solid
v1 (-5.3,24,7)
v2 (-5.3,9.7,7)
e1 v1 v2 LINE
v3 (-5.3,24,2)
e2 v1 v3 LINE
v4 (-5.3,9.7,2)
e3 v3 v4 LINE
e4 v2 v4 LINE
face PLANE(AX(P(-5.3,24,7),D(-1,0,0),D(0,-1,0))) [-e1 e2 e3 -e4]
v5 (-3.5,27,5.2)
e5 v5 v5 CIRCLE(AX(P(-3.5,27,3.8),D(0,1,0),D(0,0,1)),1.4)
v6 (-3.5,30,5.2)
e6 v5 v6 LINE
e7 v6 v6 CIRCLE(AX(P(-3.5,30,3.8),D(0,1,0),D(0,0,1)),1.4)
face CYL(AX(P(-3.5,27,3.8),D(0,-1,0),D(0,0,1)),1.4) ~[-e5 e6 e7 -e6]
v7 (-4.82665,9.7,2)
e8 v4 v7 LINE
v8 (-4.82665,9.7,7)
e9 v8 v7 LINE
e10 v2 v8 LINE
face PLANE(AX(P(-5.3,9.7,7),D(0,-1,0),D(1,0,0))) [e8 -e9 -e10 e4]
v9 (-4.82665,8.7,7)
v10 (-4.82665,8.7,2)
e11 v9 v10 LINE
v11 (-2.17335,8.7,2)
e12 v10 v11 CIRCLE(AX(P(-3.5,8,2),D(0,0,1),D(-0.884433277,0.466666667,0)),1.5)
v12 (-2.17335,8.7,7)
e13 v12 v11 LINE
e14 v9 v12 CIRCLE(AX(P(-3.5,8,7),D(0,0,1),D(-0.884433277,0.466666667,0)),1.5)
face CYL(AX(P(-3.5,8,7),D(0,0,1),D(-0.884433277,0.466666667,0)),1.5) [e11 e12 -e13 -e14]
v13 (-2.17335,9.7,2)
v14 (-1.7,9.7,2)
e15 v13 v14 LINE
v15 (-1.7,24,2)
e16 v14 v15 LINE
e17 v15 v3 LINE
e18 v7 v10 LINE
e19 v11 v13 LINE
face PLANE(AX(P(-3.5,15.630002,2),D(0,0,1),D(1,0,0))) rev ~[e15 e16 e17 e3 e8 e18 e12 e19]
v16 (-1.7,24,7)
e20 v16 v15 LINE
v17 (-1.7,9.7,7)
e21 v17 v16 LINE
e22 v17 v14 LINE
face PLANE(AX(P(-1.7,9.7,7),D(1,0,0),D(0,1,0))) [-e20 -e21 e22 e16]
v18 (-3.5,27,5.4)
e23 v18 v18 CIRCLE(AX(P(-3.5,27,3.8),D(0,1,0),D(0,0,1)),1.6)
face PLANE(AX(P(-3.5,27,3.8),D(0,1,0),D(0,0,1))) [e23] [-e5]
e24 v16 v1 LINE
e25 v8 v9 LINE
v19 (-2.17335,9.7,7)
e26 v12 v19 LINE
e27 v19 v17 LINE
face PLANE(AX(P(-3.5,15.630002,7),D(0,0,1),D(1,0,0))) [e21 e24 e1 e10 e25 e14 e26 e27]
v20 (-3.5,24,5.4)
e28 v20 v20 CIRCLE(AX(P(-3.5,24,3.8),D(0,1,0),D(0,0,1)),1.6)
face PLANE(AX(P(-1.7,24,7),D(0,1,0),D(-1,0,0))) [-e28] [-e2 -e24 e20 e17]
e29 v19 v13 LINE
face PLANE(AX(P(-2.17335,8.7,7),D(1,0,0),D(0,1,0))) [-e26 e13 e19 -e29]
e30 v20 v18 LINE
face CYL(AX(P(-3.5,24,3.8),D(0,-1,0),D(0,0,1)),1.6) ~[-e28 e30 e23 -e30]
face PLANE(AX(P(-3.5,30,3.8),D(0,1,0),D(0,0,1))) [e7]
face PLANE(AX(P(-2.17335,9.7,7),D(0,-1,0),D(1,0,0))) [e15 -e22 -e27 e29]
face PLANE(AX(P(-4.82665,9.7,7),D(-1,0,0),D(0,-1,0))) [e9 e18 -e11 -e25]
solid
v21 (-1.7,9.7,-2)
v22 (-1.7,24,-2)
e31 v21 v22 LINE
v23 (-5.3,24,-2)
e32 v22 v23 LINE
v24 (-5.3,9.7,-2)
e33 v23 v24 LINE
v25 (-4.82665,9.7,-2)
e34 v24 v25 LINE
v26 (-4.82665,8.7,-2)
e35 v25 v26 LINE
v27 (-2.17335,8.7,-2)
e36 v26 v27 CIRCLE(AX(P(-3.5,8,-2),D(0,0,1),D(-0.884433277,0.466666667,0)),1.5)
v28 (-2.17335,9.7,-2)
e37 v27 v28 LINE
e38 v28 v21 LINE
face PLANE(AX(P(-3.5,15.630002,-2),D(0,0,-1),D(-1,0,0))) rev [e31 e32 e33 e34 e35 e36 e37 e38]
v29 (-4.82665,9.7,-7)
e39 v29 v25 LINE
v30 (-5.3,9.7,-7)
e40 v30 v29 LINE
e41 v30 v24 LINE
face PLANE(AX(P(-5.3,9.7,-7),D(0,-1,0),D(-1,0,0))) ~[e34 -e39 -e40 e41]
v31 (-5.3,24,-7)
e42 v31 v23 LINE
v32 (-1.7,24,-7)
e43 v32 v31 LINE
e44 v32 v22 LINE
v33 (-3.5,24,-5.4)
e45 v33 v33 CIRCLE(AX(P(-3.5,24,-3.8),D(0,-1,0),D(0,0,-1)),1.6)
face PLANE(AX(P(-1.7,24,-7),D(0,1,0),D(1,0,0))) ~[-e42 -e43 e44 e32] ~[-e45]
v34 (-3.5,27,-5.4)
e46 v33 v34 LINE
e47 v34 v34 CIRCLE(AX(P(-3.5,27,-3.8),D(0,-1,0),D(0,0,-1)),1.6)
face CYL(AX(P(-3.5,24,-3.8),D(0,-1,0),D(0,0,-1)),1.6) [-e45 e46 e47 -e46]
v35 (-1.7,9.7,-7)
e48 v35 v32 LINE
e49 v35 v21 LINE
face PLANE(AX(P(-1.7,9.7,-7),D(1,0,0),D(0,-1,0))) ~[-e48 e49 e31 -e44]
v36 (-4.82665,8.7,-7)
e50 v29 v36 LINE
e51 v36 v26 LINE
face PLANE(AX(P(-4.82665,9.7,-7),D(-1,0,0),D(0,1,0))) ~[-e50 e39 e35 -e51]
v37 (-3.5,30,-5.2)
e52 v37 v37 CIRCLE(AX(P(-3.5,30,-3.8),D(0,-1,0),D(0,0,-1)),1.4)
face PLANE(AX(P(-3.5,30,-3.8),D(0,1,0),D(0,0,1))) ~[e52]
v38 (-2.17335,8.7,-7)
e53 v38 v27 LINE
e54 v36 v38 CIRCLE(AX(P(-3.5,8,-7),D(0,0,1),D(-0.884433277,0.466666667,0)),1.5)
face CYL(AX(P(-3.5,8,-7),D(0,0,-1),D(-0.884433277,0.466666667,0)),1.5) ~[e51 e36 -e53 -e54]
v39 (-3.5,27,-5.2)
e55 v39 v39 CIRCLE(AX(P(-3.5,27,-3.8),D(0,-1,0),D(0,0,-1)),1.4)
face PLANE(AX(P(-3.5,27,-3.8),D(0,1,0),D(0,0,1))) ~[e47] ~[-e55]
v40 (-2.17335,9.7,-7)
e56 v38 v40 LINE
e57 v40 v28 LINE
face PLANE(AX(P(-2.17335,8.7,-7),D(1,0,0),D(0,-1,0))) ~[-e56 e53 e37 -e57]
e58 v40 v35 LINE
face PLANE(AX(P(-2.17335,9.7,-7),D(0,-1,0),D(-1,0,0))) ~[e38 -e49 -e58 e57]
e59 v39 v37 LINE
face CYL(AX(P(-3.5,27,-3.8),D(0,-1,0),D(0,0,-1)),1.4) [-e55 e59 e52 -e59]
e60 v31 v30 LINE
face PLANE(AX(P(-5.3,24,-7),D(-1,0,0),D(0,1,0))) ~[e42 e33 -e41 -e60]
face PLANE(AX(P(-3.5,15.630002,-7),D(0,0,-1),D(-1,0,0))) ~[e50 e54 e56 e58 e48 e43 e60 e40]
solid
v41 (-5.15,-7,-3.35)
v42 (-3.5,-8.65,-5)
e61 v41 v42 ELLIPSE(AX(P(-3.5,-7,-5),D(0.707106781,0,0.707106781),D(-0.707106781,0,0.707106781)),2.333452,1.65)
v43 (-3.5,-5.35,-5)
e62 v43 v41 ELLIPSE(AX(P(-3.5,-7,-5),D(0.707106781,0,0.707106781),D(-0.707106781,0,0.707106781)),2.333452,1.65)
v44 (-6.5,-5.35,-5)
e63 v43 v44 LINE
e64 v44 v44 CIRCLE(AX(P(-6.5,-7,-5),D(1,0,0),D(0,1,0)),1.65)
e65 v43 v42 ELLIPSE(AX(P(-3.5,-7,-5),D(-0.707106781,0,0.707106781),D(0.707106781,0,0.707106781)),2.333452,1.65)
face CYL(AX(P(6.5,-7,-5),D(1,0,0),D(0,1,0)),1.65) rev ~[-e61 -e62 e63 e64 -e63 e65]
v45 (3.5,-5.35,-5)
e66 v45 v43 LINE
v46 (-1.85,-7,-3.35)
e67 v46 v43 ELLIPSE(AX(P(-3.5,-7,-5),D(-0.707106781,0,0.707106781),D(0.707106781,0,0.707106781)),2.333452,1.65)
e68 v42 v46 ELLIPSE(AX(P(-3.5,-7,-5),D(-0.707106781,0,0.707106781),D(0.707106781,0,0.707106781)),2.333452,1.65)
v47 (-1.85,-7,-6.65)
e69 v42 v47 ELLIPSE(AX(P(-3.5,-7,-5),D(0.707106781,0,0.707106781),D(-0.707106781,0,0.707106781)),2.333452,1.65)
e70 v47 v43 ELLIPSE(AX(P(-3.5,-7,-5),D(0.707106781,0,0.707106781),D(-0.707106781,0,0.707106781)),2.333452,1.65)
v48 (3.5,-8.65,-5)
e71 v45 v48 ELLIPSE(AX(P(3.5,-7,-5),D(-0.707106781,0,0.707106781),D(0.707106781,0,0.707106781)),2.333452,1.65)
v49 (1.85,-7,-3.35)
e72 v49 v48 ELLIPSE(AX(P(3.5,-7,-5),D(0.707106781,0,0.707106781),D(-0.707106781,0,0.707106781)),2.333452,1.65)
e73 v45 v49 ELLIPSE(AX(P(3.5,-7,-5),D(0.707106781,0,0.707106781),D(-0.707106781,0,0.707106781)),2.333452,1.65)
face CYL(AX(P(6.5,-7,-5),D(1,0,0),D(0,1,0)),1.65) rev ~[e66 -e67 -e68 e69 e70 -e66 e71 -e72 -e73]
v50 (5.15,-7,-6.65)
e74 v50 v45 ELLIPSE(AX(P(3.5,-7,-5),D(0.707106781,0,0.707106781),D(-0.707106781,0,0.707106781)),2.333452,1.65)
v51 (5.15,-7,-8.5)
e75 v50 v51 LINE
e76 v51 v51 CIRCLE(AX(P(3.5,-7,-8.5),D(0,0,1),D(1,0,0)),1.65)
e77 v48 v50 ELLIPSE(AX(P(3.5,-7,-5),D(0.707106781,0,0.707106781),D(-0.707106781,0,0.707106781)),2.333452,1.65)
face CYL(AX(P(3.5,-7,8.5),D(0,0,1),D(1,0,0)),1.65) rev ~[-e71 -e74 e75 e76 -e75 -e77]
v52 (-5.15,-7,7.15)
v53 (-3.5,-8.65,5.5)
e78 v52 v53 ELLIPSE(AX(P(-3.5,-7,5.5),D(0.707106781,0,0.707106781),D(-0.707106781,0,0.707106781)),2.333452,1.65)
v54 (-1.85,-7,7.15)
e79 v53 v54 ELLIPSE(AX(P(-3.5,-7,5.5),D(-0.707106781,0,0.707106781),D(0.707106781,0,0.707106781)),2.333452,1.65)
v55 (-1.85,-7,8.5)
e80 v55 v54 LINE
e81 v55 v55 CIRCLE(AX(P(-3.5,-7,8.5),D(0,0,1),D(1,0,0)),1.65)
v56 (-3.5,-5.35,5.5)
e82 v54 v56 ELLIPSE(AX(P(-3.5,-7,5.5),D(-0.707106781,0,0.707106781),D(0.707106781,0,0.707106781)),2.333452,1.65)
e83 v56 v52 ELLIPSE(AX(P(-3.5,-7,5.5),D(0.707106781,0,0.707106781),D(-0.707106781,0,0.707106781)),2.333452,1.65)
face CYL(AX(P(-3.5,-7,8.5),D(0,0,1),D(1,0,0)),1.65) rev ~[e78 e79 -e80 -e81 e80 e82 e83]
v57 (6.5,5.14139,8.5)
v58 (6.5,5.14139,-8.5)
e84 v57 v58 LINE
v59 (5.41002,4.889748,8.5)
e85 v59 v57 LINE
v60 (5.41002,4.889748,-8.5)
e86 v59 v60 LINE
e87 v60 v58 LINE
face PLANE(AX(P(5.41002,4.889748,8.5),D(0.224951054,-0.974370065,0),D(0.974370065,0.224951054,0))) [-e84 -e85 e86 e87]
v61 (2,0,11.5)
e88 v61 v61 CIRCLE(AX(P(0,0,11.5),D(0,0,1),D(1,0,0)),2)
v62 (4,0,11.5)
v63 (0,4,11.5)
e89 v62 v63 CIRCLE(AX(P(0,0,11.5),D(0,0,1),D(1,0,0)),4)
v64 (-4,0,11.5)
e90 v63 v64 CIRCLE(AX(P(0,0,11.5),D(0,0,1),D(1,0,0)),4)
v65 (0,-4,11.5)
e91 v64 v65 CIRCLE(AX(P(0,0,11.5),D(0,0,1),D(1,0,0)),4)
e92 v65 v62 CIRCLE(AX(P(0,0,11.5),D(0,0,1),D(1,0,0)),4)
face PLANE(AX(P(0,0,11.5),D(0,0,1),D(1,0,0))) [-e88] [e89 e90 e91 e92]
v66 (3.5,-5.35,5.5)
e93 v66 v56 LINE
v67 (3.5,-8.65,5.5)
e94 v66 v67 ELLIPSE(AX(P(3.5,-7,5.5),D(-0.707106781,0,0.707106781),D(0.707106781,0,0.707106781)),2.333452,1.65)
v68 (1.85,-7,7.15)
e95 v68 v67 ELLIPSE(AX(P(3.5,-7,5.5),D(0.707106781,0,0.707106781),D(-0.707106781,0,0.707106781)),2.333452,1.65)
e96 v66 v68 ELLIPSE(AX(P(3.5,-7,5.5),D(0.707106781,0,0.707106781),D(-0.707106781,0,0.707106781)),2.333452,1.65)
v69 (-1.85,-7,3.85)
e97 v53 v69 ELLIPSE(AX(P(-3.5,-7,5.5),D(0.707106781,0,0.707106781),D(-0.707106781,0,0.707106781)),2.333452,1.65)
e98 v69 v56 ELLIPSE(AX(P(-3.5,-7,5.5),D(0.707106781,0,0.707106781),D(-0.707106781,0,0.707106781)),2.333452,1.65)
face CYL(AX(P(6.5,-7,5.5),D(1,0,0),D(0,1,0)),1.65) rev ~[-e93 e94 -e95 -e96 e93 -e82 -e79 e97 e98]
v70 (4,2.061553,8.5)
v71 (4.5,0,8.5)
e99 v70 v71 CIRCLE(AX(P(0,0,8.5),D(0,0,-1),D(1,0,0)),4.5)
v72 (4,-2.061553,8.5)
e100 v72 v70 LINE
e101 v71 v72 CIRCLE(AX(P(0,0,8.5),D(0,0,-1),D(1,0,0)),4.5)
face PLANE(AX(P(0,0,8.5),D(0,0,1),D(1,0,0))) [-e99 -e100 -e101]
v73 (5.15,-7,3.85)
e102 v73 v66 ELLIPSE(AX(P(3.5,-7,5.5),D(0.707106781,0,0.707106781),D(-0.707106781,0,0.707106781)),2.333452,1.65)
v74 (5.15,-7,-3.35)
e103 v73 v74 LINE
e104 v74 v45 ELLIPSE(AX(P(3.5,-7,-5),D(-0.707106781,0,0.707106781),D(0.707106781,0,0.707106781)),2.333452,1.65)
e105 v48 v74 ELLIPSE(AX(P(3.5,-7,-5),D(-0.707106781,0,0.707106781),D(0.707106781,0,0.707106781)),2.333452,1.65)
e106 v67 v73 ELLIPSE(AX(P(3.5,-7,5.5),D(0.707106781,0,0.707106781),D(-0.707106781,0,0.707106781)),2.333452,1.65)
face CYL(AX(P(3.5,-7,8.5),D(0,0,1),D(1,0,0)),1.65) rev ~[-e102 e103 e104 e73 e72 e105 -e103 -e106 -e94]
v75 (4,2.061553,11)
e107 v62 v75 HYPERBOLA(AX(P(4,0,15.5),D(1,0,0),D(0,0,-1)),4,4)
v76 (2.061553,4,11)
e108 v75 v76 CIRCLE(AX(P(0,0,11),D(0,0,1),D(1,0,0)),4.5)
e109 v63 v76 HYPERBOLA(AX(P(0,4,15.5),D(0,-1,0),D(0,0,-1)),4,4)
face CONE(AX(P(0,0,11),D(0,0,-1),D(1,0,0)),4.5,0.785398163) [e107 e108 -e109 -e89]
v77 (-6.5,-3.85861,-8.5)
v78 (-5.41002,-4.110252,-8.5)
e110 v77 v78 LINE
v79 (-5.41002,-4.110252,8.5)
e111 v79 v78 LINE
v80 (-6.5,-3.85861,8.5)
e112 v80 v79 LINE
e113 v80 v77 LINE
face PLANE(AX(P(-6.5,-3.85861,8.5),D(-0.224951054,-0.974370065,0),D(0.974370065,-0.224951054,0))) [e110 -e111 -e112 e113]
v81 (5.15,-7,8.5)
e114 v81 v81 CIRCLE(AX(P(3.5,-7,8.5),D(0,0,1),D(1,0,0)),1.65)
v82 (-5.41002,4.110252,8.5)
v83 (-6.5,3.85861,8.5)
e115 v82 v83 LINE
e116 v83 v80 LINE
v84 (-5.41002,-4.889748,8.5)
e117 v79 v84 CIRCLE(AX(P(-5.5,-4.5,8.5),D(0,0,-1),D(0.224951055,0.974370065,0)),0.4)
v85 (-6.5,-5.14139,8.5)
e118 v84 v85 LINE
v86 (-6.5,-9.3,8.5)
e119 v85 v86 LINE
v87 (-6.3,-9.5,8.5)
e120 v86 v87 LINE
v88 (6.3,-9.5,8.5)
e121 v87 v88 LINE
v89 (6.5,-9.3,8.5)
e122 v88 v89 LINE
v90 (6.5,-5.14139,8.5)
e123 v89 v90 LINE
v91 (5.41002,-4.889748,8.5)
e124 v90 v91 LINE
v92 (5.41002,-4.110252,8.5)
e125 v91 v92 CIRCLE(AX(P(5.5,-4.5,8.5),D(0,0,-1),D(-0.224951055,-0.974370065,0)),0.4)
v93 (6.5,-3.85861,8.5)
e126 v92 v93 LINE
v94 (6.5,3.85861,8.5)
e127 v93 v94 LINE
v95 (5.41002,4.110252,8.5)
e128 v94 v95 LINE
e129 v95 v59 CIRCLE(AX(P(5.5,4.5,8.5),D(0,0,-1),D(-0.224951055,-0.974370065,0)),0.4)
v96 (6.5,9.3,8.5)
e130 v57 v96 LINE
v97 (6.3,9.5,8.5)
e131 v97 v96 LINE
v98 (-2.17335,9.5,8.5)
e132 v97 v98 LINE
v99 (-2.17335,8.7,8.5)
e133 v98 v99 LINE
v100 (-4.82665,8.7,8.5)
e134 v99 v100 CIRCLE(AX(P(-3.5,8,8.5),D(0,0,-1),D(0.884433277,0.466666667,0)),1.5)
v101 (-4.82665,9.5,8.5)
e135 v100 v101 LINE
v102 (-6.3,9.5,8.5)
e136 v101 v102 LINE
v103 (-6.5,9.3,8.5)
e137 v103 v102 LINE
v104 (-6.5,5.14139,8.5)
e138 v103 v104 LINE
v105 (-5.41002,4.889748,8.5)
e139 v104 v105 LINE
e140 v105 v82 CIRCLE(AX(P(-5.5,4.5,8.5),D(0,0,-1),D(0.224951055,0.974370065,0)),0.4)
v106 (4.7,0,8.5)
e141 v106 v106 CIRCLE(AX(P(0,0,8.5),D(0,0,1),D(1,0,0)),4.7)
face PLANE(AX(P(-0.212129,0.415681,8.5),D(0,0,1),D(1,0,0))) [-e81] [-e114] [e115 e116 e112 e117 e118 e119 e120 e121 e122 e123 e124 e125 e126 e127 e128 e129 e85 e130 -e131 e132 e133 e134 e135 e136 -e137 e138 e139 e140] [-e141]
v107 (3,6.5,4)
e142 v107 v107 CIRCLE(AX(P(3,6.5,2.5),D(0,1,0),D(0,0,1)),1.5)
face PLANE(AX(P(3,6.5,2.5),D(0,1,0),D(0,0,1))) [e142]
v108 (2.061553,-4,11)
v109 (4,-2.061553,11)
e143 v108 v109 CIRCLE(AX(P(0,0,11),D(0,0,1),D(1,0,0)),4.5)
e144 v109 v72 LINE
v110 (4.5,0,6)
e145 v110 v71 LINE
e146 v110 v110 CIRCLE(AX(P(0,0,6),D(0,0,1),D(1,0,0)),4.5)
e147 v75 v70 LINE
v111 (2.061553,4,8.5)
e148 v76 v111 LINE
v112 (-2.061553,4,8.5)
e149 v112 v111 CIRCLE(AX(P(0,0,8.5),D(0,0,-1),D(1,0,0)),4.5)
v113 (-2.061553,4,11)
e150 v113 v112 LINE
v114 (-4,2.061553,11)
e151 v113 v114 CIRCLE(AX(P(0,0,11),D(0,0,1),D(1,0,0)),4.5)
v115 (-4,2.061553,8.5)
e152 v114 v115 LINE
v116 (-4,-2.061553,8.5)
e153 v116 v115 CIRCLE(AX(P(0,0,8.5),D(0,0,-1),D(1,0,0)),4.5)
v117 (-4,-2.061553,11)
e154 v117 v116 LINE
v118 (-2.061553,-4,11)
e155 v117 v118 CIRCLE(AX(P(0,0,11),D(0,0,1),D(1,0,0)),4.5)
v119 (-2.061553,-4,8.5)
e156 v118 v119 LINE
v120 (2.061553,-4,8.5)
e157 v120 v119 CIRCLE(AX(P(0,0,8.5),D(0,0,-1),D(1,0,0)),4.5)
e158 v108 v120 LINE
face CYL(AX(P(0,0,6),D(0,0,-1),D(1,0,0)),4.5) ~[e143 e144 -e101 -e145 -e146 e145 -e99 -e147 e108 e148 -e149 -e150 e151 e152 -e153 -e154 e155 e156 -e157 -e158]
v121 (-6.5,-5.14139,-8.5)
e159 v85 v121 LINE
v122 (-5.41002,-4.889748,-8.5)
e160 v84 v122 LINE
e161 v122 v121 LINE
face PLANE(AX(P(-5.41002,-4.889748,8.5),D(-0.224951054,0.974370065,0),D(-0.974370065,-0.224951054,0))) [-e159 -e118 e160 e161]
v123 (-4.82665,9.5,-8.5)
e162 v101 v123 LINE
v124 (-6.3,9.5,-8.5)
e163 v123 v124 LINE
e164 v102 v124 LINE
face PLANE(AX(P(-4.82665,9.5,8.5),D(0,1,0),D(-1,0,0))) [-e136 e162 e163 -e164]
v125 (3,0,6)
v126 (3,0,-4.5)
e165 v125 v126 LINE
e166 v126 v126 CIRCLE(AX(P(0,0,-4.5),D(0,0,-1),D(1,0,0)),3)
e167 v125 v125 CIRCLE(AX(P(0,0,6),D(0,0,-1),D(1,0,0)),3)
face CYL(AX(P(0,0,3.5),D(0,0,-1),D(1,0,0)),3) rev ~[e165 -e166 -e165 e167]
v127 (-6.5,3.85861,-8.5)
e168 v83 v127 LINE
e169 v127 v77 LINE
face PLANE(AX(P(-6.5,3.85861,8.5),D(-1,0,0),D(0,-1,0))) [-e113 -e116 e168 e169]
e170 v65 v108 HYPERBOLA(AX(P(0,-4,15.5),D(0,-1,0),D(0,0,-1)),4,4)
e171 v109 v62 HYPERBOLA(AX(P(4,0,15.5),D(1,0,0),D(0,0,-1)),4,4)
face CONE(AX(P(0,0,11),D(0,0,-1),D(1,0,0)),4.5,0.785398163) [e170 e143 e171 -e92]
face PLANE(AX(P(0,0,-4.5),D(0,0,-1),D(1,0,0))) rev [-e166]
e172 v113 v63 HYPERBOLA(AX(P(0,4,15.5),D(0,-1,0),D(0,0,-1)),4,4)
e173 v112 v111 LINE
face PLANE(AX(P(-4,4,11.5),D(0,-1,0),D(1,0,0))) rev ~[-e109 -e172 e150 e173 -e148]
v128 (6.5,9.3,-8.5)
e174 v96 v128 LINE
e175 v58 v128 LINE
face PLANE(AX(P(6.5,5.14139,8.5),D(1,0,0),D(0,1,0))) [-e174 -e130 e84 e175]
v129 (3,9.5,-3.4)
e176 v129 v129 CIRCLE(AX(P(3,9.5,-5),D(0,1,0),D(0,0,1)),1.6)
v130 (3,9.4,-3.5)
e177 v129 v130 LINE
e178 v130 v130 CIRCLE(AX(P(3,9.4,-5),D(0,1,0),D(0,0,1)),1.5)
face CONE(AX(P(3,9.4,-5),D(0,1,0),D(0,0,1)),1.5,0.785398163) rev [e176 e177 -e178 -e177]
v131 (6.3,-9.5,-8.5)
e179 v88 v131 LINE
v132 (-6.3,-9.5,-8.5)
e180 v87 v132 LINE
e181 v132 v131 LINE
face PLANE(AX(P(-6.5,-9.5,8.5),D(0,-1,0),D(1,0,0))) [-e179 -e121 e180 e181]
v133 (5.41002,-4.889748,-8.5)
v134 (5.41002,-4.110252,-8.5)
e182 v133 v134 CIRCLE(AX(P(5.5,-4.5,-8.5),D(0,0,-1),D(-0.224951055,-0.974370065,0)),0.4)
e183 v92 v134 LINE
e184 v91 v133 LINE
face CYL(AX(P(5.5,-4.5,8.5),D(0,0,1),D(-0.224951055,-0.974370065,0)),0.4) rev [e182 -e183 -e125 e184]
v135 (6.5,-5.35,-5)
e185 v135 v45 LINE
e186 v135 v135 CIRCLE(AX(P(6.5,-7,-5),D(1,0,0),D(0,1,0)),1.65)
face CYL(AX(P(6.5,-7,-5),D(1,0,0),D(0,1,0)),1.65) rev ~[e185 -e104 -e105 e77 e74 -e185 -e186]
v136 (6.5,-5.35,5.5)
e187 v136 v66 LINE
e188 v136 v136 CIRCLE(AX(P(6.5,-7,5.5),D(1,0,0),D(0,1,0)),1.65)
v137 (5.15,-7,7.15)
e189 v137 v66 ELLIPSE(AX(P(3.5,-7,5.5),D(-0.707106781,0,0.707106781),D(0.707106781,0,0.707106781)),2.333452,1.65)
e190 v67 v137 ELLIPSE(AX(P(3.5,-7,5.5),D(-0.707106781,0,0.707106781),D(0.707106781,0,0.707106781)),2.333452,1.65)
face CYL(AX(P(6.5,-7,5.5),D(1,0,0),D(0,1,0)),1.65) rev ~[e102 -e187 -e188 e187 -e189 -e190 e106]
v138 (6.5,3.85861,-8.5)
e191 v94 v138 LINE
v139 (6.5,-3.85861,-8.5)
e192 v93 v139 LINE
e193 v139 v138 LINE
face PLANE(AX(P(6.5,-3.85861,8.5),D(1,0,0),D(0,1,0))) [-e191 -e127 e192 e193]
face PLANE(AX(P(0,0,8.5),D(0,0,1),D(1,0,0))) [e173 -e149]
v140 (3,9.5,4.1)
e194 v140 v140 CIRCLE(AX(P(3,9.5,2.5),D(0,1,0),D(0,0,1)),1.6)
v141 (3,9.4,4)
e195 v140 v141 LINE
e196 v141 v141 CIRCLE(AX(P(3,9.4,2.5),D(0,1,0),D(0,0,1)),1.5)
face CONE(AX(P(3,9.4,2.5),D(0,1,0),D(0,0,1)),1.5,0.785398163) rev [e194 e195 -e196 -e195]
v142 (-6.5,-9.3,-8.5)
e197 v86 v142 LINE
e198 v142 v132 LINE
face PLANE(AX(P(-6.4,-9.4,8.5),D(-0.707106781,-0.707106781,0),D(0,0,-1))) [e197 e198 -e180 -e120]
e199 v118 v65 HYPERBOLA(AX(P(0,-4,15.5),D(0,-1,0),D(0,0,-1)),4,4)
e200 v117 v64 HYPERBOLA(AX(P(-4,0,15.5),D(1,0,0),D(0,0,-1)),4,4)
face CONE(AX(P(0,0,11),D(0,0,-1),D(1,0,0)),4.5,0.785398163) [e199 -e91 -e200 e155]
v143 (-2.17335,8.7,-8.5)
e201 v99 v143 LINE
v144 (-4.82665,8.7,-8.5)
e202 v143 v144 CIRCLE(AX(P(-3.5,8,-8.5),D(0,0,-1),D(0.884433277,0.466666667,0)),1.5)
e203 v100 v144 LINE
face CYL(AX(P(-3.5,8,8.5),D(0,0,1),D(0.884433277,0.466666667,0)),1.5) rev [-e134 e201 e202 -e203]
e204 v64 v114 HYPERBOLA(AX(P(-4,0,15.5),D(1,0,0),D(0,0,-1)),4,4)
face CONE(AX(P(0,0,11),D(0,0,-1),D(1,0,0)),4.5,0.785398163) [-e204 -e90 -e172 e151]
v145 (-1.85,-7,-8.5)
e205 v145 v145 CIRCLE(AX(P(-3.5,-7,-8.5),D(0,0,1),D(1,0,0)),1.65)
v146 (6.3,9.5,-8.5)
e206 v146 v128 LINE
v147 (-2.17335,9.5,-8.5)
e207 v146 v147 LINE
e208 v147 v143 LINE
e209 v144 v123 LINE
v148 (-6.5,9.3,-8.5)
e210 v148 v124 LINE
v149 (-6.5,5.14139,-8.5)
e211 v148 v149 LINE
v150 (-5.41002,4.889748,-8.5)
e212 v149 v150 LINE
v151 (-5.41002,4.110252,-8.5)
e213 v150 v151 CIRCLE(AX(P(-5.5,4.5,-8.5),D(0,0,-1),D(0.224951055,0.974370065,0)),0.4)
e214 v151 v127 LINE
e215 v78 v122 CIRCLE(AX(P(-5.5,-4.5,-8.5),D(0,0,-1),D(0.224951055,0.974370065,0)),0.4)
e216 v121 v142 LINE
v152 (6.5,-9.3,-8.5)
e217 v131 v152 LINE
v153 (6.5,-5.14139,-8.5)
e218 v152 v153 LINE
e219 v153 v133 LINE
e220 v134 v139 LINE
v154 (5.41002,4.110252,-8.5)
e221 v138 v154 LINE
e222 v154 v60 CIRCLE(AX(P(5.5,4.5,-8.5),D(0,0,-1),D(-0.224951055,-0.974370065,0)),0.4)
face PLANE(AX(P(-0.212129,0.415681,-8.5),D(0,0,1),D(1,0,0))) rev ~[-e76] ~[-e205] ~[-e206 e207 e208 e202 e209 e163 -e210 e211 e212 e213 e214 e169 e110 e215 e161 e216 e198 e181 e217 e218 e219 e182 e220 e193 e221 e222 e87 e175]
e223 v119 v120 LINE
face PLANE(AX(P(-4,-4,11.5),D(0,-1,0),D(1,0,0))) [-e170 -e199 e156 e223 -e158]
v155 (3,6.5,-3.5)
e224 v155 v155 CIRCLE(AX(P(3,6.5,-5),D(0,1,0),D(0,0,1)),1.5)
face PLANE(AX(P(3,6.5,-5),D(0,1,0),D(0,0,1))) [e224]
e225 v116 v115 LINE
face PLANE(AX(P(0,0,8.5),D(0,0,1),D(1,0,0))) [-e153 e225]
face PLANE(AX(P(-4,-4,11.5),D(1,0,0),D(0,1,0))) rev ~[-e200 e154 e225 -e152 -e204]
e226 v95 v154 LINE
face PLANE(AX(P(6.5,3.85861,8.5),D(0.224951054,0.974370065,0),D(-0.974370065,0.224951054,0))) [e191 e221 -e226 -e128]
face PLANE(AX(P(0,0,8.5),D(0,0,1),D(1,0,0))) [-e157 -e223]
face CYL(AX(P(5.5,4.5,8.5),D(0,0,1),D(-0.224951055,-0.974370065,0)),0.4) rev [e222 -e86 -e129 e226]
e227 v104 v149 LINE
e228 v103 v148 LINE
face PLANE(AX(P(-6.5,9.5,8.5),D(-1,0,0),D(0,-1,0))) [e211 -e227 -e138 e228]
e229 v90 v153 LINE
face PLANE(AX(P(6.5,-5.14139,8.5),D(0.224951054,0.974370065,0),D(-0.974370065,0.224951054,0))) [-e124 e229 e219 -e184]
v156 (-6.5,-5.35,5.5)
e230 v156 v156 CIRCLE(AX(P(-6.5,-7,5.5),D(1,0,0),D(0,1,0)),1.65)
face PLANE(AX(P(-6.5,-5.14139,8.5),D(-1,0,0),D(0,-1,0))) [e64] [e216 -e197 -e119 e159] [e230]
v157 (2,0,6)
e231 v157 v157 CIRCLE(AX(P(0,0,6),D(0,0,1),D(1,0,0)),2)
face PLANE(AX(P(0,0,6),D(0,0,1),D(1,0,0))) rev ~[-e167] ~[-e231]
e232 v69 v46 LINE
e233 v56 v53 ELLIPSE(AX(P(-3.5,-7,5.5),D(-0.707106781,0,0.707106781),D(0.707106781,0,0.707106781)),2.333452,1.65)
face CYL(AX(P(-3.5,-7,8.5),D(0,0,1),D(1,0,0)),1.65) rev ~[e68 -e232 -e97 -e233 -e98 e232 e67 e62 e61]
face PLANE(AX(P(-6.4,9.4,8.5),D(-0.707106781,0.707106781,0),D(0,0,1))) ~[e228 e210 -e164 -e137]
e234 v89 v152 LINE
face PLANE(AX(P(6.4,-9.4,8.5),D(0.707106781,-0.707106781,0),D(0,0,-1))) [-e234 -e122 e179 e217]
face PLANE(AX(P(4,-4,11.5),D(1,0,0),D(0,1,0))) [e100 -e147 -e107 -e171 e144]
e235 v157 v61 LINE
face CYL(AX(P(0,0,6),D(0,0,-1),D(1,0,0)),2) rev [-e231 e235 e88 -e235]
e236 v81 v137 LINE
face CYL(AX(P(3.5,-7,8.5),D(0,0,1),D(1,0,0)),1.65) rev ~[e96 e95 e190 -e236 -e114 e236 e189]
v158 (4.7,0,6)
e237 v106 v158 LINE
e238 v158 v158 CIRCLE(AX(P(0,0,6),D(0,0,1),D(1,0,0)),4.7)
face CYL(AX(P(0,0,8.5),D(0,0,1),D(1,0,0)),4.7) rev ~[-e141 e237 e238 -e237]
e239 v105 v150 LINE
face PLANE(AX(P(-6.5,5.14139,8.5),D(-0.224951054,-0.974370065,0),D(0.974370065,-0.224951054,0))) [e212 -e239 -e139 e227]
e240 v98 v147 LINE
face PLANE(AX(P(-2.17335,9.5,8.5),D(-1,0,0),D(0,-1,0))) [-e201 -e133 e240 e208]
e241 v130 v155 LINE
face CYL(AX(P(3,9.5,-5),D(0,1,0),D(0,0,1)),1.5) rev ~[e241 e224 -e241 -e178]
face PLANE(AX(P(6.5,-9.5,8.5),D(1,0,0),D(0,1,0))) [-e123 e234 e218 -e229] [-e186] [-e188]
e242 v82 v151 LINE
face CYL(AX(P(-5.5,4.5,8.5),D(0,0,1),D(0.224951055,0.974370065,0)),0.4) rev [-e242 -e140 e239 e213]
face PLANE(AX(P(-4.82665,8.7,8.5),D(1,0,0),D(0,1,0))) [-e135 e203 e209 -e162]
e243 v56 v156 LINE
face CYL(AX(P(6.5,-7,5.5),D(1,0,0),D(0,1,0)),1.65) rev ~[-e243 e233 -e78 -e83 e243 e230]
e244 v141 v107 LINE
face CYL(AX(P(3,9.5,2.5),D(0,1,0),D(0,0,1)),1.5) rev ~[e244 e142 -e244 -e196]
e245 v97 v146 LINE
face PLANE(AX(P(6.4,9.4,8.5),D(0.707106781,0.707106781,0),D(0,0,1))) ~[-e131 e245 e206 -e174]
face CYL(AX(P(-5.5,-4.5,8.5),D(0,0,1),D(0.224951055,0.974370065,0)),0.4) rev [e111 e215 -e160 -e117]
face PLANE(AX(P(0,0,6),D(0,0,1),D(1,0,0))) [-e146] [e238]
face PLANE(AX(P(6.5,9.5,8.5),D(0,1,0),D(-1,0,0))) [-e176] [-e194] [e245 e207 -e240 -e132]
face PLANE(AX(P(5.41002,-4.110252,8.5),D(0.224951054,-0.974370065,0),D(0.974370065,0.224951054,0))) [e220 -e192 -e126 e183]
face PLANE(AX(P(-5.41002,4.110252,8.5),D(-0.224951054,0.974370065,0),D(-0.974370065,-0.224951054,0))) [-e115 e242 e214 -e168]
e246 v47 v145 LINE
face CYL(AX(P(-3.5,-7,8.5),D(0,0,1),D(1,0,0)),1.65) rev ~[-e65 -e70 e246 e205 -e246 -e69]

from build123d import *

# Parameters (mm, degrees)
EXTRUDE_START         = 8.5
SKETCH_20_R           = 1.65
EXTRUDE_3_DEPTH       = 17
SKETCH_21_R           = 4.7
CUT_EXTRUDE_7_DEPTH   = 2.5
CUT_EXTRUDE_8_REACH   = 20.207
SKETCH_22_R           = 1.65
SKETCH_23_R           = 1.5
CUT_EXTRUDE_9_DEPTH   = 3
CHAMFER_4_SIZE        = 0.1
CHAMFER_5_SIZE        = 0.2
SKETCH_24_W           = 16
SKETCH_24_H           = 3
SKETCH_25_R           = 4.5
SKETCH_25_R_2         = 2
EXTRUDE_4_DEPTH       = 5.5
CHAMFER_6_SIZE        = 0.5
SKETCH_26_OUTSIDE_W   = 21.1
SKETCH_26_OUTSIDE_H   = 27.1
SKETCH_26_OUTSIDE_W_2 = 8
SKETCH_26_OUTSIDE_H_2 = 8
CUT_EXTRUDE_11_DEPTH  = 3
EXTRUDE_START_2       = 7
EXTRUDE_5_DEPTH       = 5
SKETCH_36_R           = 1.6
EXTRUDE_7_DEPTH       = 3
SKETCH_37_R           = 1.4
EXTRUDE_8_DEPTH       = 3


with BuildPart() as part:
    # 草图20 → 凸台-拉伸3 (new body)
    with BuildSketch(Plane.XY.offset(EXTRUDE_START)):
        with BuildLine():
            Line((-6.5, 9.5), (-6.5, 5.141389834))
            Line((-6.5, 5.141389834), (-5.410019578, 4.889748026))
            ThreePointArc((-5.410019578, 4.889748026), (-5.1, 4.5), (-5.410019578, 4.110251974))
            Line((-5.410019578, 4.110251974), (-6.5, 3.858610166))
            Line((-6.5, 3.858610166), (-6.5, -3.858610166))
            Line((-6.5, -3.858610166), (-5.410019578, -4.110251974))
            ThreePointArc((-5.410019578, -4.110251974), (-5.1, -4.5), (-5.410019578, -4.889748026))
            Line((-5.410019578, -4.889748026), (-6.5, -5.141389834))
            Line((-6.5, -5.141389834), (-6.5, -9.5))
            Line((-6.5, -9.5), (6.5, -9.5))
            Line((6.5, -9.5), (6.5, -5.141389834))
            Line((6.5, -5.141389834), (5.410019578, -4.889748026))
            ThreePointArc((5.410019578, -4.889748026), (5.1, -4.5), (5.410019578, -4.110251974))
            Line((5.410019578, -4.110251974), (6.5, -3.858610166))
            Line((6.5, -3.858610166), (6.5, 3.858610166))
            Line((6.5, 3.858610166), (5.410019578, 4.110251974))
            ThreePointArc((5.410019578, 4.110251974), (5.1, 4.5), (5.410019578, 4.889748026))
            Line((5.410019578, 4.889748026), (6.5, 5.141389834))
            Line((6.5, 5.141389834), (6.5, 9.5))
            Line((6.5, 9.5), (-2.173350084, 9.5))
            Line((-2.173350084, 9.5), (-2.173350084, 8.7))
            ThreePointArc((-2.173350084, 8.7), (-3.5, 6.5), (-4.826649916, 8.7))
            Line((-4.826649916, 8.7), (-4.826649916, 9.5))
            Line((-4.826649916, 9.5), (-6.5, 9.5))
        make_face()
        with Locations((-3.5, -7)):
            Circle(SKETCH_20_R, mode=Mode.SUBTRACT)
        with Locations((3.5, -7)):
            Circle(SKETCH_20_R, mode=Mode.SUBTRACT)
    extrude(amount=-EXTRUDE_3_DEPTH)

    # 草图21 → 切除-拉伸7 (cut)
    with BuildSketch(Plane.XY.offset(8.5)):
        Circle(SKETCH_21_R)
    extrude(amount=-CUT_EXTRUDE_7_DEPTH, mode=Mode.SUBTRACT)

    # 切除-拉伸8: up to this face of the body (flat: up to its plane)
    cut_extrude_8_end = Plane(part.part.faces().sort_by_distance((-6.5, -7.320694917, 0))[0])
    # 草图22 → 切除-拉伸8 (cut, up to the picked face)
    with BuildSketch(Plane(origin=(6.5, 0, 0), x_dir=(0, 0, -1), z_dir=(1, 0, 0)), mode=Mode.PRIVATE) as cut_extrude_8_sk1:
        with Locations(Location((-5.5, -7, 0), (0, 0, 90))):
            Circle(SKETCH_22_R)
    cut_extrude_8_tool1 = split(extrude(cut_extrude_8_sk1.sketch, amount=-CUT_EXTRUDE_8_REACH, mode=Mode.PRIVATE), bisect_by=cut_extrude_8_end, keep=Keep.BOTH, mode=Mode.PRIVATE)
    # 草图22 → 切除-拉伸8 (cut, up to the picked face)
    with BuildSketch(Plane(origin=(6.5, 0, 0), x_dir=(0, 0, -1), z_dir=(1, 0, 0)), mode=Mode.PRIVATE) as cut_extrude_8_sk2:
        with Locations(Location((5, -7, 0), (0, 0, 90))):
            Circle(SKETCH_22_R)
    cut_extrude_8_tool2 = split(extrude(cut_extrude_8_sk2.sketch, amount=-CUT_EXTRUDE_8_REACH, mode=Mode.PRIVATE), bisect_by=cut_extrude_8_end, keep=Keep.BOTH, mode=Mode.PRIVATE)
    add(cut_extrude_8_tool1.solids().sort_by(Axis((6.5, -7, 5.5), (-1, 0, 0)))[0], mode=Mode.SUBTRACT)
    add(cut_extrude_8_tool2.solids().sort_by(Axis((6.5, -7, -5), (-1, 0, 0)))[0], mode=Mode.SUBTRACT)

    # 草图23 → 切除-拉伸9 (cut)
    with BuildSketch(Plane(origin=(0, 9.5, 0), x_dir=(1, 0, 0), z_dir=(0, 1, 0))):
        with Locations(Location((3, -2.5, 0), (0, 0, 270))):
            Circle(SKETCH_23_R)
        with Locations(Location((3, 5, 0), (0, 0, 270))):
            Circle(SKETCH_23_R)
    extrude(amount=-CUT_EXTRUDE_9_DEPTH, mode=Mode.SUBTRACT)

    # 倒角4
    chamfer_4_edges = [part.edges().sort_by_distance(p)[0] for p in [
        (3, 9.5, 1),
        (3, 9.5, -6.5),
    ]]
    chamfer(chamfer_4_edges, length=CHAMFER_4_SIZE)

    # 倒角5
    chamfer_5_edges = [part.edges().sort_by_distance(p)[0] for p in [
        (6.5, 9.5, 0),
        (6.5, -9.5, 0),
        (-6.5, -9.5, 0),
        (-6.5, 9.5, 0),
    ]]
    chamfer(chamfer_5_edges, length=CHAMFER_5_SIZE)

    # 草图24 → 切除-旋转3 (revolve, cut)
    with BuildSketch(Plane(origin=(0, 0, 0), x_dir=(0, 0, -1), z_dir=(1, 0, 0)), mode=Mode.PRIVATE) as cut_revolve_3_sk:
        with Locations((-3.5, 1.5)):
            Rectangle(SKETCH_24_W, SKETCH_24_H)
    revolve(cut_revolve_3_sk.sketch.rotate(Axis((0, 0, 11.5), (0, 0, -1)), 90), axis=Axis((0, 0, 11.5), (0, 0, -1)), mode=Mode.SUBTRACT)

    # 草图25 → 凸台-拉伸4 (add)
    with BuildSketch(Plane.XY.offset(6)):
        Circle(SKETCH_25_R)
        Circle(SKETCH_25_R_2, mode=Mode.SUBTRACT)
    extrude(amount=EXTRUDE_4_DEPTH)

    # 倒角6
    chamfer_6_edges = [part.edges().sort_by_distance(p)[0] for p in [
        (-4.5, 0, 11.5),
    ]]
    chamfer(chamfer_6_edges, length=CHAMFER_6_SIZE)

    # 草图26 outside → 切除-拉伸11 (cut)
    with BuildSketch(Plane.XY.offset(11.5)):
        Rectangle(SKETCH_26_OUTSIDE_W, SKETCH_26_OUTSIDE_H)
        Rectangle(SKETCH_26_OUTSIDE_W_2, SKETCH_26_OUTSIDE_H_2, mode=Mode.SUBTRACT)
    extrude(amount=-CUT_EXTRUDE_11_DEPTH, mode=Mode.SUBTRACT)


with BuildPart() as body_2:
    # 草图34 → 凸台-拉伸5 (new body)
    with BuildSketch(Plane.XY.offset(EXTRUDE_START_2)):
        with BuildLine():
            Line((-4.826649916, 9.7), (-4.826649916, 8.7))
            ThreePointArc((-4.826649916, 8.7), (-3.5, 6.5), (-2.173350084, 8.7))
            Line((-2.173350084, 8.7), (-2.173350084, 9.7))
            Line((-2.173350084, 9.7), (-1.7, 9.7))
            Line((-1.7, 9.7), (-1.7, 24))
            Line((-1.7, 24), (-5.3, 24))
            Line((-5.3, 24), (-5.3, 9.7))
            Line((-5.3, 9.7), (-4.826649916, 9.7))
        make_face()
    extrude(amount=-EXTRUDE_5_DEPTH)

    # 草图36 → 凸台-拉伸7 (add)
    with BuildSketch(Plane(origin=(0, 24, 0), x_dir=(1, 0, 0), z_dir=(0, 1, 0))):
        with Locations(Location((-3.5, -3.8, 0), (0, 0, 270))):
            Circle(SKETCH_36_R)
    extrude(amount=EXTRUDE_7_DEPTH)

    # 草图37 → 凸台-拉伸8 (add)
    with BuildSketch(Plane(origin=(0, 27, 0), x_dir=(1, 0, 0), z_dir=(0, 1, 0))):
        with Locations(Location((-3.5, -3.8, 0), (0, 0, 270))):
            Circle(SKETCH_37_R)
    extrude(amount=EXTRUDE_8_DEPTH)


with BuildPart() as body_3:
    # 镜向6: mirrored copy
    add(body_2.part.mirror(Plane.XY))


solid = Compound([part.part, body_2.part, body_3.part])
